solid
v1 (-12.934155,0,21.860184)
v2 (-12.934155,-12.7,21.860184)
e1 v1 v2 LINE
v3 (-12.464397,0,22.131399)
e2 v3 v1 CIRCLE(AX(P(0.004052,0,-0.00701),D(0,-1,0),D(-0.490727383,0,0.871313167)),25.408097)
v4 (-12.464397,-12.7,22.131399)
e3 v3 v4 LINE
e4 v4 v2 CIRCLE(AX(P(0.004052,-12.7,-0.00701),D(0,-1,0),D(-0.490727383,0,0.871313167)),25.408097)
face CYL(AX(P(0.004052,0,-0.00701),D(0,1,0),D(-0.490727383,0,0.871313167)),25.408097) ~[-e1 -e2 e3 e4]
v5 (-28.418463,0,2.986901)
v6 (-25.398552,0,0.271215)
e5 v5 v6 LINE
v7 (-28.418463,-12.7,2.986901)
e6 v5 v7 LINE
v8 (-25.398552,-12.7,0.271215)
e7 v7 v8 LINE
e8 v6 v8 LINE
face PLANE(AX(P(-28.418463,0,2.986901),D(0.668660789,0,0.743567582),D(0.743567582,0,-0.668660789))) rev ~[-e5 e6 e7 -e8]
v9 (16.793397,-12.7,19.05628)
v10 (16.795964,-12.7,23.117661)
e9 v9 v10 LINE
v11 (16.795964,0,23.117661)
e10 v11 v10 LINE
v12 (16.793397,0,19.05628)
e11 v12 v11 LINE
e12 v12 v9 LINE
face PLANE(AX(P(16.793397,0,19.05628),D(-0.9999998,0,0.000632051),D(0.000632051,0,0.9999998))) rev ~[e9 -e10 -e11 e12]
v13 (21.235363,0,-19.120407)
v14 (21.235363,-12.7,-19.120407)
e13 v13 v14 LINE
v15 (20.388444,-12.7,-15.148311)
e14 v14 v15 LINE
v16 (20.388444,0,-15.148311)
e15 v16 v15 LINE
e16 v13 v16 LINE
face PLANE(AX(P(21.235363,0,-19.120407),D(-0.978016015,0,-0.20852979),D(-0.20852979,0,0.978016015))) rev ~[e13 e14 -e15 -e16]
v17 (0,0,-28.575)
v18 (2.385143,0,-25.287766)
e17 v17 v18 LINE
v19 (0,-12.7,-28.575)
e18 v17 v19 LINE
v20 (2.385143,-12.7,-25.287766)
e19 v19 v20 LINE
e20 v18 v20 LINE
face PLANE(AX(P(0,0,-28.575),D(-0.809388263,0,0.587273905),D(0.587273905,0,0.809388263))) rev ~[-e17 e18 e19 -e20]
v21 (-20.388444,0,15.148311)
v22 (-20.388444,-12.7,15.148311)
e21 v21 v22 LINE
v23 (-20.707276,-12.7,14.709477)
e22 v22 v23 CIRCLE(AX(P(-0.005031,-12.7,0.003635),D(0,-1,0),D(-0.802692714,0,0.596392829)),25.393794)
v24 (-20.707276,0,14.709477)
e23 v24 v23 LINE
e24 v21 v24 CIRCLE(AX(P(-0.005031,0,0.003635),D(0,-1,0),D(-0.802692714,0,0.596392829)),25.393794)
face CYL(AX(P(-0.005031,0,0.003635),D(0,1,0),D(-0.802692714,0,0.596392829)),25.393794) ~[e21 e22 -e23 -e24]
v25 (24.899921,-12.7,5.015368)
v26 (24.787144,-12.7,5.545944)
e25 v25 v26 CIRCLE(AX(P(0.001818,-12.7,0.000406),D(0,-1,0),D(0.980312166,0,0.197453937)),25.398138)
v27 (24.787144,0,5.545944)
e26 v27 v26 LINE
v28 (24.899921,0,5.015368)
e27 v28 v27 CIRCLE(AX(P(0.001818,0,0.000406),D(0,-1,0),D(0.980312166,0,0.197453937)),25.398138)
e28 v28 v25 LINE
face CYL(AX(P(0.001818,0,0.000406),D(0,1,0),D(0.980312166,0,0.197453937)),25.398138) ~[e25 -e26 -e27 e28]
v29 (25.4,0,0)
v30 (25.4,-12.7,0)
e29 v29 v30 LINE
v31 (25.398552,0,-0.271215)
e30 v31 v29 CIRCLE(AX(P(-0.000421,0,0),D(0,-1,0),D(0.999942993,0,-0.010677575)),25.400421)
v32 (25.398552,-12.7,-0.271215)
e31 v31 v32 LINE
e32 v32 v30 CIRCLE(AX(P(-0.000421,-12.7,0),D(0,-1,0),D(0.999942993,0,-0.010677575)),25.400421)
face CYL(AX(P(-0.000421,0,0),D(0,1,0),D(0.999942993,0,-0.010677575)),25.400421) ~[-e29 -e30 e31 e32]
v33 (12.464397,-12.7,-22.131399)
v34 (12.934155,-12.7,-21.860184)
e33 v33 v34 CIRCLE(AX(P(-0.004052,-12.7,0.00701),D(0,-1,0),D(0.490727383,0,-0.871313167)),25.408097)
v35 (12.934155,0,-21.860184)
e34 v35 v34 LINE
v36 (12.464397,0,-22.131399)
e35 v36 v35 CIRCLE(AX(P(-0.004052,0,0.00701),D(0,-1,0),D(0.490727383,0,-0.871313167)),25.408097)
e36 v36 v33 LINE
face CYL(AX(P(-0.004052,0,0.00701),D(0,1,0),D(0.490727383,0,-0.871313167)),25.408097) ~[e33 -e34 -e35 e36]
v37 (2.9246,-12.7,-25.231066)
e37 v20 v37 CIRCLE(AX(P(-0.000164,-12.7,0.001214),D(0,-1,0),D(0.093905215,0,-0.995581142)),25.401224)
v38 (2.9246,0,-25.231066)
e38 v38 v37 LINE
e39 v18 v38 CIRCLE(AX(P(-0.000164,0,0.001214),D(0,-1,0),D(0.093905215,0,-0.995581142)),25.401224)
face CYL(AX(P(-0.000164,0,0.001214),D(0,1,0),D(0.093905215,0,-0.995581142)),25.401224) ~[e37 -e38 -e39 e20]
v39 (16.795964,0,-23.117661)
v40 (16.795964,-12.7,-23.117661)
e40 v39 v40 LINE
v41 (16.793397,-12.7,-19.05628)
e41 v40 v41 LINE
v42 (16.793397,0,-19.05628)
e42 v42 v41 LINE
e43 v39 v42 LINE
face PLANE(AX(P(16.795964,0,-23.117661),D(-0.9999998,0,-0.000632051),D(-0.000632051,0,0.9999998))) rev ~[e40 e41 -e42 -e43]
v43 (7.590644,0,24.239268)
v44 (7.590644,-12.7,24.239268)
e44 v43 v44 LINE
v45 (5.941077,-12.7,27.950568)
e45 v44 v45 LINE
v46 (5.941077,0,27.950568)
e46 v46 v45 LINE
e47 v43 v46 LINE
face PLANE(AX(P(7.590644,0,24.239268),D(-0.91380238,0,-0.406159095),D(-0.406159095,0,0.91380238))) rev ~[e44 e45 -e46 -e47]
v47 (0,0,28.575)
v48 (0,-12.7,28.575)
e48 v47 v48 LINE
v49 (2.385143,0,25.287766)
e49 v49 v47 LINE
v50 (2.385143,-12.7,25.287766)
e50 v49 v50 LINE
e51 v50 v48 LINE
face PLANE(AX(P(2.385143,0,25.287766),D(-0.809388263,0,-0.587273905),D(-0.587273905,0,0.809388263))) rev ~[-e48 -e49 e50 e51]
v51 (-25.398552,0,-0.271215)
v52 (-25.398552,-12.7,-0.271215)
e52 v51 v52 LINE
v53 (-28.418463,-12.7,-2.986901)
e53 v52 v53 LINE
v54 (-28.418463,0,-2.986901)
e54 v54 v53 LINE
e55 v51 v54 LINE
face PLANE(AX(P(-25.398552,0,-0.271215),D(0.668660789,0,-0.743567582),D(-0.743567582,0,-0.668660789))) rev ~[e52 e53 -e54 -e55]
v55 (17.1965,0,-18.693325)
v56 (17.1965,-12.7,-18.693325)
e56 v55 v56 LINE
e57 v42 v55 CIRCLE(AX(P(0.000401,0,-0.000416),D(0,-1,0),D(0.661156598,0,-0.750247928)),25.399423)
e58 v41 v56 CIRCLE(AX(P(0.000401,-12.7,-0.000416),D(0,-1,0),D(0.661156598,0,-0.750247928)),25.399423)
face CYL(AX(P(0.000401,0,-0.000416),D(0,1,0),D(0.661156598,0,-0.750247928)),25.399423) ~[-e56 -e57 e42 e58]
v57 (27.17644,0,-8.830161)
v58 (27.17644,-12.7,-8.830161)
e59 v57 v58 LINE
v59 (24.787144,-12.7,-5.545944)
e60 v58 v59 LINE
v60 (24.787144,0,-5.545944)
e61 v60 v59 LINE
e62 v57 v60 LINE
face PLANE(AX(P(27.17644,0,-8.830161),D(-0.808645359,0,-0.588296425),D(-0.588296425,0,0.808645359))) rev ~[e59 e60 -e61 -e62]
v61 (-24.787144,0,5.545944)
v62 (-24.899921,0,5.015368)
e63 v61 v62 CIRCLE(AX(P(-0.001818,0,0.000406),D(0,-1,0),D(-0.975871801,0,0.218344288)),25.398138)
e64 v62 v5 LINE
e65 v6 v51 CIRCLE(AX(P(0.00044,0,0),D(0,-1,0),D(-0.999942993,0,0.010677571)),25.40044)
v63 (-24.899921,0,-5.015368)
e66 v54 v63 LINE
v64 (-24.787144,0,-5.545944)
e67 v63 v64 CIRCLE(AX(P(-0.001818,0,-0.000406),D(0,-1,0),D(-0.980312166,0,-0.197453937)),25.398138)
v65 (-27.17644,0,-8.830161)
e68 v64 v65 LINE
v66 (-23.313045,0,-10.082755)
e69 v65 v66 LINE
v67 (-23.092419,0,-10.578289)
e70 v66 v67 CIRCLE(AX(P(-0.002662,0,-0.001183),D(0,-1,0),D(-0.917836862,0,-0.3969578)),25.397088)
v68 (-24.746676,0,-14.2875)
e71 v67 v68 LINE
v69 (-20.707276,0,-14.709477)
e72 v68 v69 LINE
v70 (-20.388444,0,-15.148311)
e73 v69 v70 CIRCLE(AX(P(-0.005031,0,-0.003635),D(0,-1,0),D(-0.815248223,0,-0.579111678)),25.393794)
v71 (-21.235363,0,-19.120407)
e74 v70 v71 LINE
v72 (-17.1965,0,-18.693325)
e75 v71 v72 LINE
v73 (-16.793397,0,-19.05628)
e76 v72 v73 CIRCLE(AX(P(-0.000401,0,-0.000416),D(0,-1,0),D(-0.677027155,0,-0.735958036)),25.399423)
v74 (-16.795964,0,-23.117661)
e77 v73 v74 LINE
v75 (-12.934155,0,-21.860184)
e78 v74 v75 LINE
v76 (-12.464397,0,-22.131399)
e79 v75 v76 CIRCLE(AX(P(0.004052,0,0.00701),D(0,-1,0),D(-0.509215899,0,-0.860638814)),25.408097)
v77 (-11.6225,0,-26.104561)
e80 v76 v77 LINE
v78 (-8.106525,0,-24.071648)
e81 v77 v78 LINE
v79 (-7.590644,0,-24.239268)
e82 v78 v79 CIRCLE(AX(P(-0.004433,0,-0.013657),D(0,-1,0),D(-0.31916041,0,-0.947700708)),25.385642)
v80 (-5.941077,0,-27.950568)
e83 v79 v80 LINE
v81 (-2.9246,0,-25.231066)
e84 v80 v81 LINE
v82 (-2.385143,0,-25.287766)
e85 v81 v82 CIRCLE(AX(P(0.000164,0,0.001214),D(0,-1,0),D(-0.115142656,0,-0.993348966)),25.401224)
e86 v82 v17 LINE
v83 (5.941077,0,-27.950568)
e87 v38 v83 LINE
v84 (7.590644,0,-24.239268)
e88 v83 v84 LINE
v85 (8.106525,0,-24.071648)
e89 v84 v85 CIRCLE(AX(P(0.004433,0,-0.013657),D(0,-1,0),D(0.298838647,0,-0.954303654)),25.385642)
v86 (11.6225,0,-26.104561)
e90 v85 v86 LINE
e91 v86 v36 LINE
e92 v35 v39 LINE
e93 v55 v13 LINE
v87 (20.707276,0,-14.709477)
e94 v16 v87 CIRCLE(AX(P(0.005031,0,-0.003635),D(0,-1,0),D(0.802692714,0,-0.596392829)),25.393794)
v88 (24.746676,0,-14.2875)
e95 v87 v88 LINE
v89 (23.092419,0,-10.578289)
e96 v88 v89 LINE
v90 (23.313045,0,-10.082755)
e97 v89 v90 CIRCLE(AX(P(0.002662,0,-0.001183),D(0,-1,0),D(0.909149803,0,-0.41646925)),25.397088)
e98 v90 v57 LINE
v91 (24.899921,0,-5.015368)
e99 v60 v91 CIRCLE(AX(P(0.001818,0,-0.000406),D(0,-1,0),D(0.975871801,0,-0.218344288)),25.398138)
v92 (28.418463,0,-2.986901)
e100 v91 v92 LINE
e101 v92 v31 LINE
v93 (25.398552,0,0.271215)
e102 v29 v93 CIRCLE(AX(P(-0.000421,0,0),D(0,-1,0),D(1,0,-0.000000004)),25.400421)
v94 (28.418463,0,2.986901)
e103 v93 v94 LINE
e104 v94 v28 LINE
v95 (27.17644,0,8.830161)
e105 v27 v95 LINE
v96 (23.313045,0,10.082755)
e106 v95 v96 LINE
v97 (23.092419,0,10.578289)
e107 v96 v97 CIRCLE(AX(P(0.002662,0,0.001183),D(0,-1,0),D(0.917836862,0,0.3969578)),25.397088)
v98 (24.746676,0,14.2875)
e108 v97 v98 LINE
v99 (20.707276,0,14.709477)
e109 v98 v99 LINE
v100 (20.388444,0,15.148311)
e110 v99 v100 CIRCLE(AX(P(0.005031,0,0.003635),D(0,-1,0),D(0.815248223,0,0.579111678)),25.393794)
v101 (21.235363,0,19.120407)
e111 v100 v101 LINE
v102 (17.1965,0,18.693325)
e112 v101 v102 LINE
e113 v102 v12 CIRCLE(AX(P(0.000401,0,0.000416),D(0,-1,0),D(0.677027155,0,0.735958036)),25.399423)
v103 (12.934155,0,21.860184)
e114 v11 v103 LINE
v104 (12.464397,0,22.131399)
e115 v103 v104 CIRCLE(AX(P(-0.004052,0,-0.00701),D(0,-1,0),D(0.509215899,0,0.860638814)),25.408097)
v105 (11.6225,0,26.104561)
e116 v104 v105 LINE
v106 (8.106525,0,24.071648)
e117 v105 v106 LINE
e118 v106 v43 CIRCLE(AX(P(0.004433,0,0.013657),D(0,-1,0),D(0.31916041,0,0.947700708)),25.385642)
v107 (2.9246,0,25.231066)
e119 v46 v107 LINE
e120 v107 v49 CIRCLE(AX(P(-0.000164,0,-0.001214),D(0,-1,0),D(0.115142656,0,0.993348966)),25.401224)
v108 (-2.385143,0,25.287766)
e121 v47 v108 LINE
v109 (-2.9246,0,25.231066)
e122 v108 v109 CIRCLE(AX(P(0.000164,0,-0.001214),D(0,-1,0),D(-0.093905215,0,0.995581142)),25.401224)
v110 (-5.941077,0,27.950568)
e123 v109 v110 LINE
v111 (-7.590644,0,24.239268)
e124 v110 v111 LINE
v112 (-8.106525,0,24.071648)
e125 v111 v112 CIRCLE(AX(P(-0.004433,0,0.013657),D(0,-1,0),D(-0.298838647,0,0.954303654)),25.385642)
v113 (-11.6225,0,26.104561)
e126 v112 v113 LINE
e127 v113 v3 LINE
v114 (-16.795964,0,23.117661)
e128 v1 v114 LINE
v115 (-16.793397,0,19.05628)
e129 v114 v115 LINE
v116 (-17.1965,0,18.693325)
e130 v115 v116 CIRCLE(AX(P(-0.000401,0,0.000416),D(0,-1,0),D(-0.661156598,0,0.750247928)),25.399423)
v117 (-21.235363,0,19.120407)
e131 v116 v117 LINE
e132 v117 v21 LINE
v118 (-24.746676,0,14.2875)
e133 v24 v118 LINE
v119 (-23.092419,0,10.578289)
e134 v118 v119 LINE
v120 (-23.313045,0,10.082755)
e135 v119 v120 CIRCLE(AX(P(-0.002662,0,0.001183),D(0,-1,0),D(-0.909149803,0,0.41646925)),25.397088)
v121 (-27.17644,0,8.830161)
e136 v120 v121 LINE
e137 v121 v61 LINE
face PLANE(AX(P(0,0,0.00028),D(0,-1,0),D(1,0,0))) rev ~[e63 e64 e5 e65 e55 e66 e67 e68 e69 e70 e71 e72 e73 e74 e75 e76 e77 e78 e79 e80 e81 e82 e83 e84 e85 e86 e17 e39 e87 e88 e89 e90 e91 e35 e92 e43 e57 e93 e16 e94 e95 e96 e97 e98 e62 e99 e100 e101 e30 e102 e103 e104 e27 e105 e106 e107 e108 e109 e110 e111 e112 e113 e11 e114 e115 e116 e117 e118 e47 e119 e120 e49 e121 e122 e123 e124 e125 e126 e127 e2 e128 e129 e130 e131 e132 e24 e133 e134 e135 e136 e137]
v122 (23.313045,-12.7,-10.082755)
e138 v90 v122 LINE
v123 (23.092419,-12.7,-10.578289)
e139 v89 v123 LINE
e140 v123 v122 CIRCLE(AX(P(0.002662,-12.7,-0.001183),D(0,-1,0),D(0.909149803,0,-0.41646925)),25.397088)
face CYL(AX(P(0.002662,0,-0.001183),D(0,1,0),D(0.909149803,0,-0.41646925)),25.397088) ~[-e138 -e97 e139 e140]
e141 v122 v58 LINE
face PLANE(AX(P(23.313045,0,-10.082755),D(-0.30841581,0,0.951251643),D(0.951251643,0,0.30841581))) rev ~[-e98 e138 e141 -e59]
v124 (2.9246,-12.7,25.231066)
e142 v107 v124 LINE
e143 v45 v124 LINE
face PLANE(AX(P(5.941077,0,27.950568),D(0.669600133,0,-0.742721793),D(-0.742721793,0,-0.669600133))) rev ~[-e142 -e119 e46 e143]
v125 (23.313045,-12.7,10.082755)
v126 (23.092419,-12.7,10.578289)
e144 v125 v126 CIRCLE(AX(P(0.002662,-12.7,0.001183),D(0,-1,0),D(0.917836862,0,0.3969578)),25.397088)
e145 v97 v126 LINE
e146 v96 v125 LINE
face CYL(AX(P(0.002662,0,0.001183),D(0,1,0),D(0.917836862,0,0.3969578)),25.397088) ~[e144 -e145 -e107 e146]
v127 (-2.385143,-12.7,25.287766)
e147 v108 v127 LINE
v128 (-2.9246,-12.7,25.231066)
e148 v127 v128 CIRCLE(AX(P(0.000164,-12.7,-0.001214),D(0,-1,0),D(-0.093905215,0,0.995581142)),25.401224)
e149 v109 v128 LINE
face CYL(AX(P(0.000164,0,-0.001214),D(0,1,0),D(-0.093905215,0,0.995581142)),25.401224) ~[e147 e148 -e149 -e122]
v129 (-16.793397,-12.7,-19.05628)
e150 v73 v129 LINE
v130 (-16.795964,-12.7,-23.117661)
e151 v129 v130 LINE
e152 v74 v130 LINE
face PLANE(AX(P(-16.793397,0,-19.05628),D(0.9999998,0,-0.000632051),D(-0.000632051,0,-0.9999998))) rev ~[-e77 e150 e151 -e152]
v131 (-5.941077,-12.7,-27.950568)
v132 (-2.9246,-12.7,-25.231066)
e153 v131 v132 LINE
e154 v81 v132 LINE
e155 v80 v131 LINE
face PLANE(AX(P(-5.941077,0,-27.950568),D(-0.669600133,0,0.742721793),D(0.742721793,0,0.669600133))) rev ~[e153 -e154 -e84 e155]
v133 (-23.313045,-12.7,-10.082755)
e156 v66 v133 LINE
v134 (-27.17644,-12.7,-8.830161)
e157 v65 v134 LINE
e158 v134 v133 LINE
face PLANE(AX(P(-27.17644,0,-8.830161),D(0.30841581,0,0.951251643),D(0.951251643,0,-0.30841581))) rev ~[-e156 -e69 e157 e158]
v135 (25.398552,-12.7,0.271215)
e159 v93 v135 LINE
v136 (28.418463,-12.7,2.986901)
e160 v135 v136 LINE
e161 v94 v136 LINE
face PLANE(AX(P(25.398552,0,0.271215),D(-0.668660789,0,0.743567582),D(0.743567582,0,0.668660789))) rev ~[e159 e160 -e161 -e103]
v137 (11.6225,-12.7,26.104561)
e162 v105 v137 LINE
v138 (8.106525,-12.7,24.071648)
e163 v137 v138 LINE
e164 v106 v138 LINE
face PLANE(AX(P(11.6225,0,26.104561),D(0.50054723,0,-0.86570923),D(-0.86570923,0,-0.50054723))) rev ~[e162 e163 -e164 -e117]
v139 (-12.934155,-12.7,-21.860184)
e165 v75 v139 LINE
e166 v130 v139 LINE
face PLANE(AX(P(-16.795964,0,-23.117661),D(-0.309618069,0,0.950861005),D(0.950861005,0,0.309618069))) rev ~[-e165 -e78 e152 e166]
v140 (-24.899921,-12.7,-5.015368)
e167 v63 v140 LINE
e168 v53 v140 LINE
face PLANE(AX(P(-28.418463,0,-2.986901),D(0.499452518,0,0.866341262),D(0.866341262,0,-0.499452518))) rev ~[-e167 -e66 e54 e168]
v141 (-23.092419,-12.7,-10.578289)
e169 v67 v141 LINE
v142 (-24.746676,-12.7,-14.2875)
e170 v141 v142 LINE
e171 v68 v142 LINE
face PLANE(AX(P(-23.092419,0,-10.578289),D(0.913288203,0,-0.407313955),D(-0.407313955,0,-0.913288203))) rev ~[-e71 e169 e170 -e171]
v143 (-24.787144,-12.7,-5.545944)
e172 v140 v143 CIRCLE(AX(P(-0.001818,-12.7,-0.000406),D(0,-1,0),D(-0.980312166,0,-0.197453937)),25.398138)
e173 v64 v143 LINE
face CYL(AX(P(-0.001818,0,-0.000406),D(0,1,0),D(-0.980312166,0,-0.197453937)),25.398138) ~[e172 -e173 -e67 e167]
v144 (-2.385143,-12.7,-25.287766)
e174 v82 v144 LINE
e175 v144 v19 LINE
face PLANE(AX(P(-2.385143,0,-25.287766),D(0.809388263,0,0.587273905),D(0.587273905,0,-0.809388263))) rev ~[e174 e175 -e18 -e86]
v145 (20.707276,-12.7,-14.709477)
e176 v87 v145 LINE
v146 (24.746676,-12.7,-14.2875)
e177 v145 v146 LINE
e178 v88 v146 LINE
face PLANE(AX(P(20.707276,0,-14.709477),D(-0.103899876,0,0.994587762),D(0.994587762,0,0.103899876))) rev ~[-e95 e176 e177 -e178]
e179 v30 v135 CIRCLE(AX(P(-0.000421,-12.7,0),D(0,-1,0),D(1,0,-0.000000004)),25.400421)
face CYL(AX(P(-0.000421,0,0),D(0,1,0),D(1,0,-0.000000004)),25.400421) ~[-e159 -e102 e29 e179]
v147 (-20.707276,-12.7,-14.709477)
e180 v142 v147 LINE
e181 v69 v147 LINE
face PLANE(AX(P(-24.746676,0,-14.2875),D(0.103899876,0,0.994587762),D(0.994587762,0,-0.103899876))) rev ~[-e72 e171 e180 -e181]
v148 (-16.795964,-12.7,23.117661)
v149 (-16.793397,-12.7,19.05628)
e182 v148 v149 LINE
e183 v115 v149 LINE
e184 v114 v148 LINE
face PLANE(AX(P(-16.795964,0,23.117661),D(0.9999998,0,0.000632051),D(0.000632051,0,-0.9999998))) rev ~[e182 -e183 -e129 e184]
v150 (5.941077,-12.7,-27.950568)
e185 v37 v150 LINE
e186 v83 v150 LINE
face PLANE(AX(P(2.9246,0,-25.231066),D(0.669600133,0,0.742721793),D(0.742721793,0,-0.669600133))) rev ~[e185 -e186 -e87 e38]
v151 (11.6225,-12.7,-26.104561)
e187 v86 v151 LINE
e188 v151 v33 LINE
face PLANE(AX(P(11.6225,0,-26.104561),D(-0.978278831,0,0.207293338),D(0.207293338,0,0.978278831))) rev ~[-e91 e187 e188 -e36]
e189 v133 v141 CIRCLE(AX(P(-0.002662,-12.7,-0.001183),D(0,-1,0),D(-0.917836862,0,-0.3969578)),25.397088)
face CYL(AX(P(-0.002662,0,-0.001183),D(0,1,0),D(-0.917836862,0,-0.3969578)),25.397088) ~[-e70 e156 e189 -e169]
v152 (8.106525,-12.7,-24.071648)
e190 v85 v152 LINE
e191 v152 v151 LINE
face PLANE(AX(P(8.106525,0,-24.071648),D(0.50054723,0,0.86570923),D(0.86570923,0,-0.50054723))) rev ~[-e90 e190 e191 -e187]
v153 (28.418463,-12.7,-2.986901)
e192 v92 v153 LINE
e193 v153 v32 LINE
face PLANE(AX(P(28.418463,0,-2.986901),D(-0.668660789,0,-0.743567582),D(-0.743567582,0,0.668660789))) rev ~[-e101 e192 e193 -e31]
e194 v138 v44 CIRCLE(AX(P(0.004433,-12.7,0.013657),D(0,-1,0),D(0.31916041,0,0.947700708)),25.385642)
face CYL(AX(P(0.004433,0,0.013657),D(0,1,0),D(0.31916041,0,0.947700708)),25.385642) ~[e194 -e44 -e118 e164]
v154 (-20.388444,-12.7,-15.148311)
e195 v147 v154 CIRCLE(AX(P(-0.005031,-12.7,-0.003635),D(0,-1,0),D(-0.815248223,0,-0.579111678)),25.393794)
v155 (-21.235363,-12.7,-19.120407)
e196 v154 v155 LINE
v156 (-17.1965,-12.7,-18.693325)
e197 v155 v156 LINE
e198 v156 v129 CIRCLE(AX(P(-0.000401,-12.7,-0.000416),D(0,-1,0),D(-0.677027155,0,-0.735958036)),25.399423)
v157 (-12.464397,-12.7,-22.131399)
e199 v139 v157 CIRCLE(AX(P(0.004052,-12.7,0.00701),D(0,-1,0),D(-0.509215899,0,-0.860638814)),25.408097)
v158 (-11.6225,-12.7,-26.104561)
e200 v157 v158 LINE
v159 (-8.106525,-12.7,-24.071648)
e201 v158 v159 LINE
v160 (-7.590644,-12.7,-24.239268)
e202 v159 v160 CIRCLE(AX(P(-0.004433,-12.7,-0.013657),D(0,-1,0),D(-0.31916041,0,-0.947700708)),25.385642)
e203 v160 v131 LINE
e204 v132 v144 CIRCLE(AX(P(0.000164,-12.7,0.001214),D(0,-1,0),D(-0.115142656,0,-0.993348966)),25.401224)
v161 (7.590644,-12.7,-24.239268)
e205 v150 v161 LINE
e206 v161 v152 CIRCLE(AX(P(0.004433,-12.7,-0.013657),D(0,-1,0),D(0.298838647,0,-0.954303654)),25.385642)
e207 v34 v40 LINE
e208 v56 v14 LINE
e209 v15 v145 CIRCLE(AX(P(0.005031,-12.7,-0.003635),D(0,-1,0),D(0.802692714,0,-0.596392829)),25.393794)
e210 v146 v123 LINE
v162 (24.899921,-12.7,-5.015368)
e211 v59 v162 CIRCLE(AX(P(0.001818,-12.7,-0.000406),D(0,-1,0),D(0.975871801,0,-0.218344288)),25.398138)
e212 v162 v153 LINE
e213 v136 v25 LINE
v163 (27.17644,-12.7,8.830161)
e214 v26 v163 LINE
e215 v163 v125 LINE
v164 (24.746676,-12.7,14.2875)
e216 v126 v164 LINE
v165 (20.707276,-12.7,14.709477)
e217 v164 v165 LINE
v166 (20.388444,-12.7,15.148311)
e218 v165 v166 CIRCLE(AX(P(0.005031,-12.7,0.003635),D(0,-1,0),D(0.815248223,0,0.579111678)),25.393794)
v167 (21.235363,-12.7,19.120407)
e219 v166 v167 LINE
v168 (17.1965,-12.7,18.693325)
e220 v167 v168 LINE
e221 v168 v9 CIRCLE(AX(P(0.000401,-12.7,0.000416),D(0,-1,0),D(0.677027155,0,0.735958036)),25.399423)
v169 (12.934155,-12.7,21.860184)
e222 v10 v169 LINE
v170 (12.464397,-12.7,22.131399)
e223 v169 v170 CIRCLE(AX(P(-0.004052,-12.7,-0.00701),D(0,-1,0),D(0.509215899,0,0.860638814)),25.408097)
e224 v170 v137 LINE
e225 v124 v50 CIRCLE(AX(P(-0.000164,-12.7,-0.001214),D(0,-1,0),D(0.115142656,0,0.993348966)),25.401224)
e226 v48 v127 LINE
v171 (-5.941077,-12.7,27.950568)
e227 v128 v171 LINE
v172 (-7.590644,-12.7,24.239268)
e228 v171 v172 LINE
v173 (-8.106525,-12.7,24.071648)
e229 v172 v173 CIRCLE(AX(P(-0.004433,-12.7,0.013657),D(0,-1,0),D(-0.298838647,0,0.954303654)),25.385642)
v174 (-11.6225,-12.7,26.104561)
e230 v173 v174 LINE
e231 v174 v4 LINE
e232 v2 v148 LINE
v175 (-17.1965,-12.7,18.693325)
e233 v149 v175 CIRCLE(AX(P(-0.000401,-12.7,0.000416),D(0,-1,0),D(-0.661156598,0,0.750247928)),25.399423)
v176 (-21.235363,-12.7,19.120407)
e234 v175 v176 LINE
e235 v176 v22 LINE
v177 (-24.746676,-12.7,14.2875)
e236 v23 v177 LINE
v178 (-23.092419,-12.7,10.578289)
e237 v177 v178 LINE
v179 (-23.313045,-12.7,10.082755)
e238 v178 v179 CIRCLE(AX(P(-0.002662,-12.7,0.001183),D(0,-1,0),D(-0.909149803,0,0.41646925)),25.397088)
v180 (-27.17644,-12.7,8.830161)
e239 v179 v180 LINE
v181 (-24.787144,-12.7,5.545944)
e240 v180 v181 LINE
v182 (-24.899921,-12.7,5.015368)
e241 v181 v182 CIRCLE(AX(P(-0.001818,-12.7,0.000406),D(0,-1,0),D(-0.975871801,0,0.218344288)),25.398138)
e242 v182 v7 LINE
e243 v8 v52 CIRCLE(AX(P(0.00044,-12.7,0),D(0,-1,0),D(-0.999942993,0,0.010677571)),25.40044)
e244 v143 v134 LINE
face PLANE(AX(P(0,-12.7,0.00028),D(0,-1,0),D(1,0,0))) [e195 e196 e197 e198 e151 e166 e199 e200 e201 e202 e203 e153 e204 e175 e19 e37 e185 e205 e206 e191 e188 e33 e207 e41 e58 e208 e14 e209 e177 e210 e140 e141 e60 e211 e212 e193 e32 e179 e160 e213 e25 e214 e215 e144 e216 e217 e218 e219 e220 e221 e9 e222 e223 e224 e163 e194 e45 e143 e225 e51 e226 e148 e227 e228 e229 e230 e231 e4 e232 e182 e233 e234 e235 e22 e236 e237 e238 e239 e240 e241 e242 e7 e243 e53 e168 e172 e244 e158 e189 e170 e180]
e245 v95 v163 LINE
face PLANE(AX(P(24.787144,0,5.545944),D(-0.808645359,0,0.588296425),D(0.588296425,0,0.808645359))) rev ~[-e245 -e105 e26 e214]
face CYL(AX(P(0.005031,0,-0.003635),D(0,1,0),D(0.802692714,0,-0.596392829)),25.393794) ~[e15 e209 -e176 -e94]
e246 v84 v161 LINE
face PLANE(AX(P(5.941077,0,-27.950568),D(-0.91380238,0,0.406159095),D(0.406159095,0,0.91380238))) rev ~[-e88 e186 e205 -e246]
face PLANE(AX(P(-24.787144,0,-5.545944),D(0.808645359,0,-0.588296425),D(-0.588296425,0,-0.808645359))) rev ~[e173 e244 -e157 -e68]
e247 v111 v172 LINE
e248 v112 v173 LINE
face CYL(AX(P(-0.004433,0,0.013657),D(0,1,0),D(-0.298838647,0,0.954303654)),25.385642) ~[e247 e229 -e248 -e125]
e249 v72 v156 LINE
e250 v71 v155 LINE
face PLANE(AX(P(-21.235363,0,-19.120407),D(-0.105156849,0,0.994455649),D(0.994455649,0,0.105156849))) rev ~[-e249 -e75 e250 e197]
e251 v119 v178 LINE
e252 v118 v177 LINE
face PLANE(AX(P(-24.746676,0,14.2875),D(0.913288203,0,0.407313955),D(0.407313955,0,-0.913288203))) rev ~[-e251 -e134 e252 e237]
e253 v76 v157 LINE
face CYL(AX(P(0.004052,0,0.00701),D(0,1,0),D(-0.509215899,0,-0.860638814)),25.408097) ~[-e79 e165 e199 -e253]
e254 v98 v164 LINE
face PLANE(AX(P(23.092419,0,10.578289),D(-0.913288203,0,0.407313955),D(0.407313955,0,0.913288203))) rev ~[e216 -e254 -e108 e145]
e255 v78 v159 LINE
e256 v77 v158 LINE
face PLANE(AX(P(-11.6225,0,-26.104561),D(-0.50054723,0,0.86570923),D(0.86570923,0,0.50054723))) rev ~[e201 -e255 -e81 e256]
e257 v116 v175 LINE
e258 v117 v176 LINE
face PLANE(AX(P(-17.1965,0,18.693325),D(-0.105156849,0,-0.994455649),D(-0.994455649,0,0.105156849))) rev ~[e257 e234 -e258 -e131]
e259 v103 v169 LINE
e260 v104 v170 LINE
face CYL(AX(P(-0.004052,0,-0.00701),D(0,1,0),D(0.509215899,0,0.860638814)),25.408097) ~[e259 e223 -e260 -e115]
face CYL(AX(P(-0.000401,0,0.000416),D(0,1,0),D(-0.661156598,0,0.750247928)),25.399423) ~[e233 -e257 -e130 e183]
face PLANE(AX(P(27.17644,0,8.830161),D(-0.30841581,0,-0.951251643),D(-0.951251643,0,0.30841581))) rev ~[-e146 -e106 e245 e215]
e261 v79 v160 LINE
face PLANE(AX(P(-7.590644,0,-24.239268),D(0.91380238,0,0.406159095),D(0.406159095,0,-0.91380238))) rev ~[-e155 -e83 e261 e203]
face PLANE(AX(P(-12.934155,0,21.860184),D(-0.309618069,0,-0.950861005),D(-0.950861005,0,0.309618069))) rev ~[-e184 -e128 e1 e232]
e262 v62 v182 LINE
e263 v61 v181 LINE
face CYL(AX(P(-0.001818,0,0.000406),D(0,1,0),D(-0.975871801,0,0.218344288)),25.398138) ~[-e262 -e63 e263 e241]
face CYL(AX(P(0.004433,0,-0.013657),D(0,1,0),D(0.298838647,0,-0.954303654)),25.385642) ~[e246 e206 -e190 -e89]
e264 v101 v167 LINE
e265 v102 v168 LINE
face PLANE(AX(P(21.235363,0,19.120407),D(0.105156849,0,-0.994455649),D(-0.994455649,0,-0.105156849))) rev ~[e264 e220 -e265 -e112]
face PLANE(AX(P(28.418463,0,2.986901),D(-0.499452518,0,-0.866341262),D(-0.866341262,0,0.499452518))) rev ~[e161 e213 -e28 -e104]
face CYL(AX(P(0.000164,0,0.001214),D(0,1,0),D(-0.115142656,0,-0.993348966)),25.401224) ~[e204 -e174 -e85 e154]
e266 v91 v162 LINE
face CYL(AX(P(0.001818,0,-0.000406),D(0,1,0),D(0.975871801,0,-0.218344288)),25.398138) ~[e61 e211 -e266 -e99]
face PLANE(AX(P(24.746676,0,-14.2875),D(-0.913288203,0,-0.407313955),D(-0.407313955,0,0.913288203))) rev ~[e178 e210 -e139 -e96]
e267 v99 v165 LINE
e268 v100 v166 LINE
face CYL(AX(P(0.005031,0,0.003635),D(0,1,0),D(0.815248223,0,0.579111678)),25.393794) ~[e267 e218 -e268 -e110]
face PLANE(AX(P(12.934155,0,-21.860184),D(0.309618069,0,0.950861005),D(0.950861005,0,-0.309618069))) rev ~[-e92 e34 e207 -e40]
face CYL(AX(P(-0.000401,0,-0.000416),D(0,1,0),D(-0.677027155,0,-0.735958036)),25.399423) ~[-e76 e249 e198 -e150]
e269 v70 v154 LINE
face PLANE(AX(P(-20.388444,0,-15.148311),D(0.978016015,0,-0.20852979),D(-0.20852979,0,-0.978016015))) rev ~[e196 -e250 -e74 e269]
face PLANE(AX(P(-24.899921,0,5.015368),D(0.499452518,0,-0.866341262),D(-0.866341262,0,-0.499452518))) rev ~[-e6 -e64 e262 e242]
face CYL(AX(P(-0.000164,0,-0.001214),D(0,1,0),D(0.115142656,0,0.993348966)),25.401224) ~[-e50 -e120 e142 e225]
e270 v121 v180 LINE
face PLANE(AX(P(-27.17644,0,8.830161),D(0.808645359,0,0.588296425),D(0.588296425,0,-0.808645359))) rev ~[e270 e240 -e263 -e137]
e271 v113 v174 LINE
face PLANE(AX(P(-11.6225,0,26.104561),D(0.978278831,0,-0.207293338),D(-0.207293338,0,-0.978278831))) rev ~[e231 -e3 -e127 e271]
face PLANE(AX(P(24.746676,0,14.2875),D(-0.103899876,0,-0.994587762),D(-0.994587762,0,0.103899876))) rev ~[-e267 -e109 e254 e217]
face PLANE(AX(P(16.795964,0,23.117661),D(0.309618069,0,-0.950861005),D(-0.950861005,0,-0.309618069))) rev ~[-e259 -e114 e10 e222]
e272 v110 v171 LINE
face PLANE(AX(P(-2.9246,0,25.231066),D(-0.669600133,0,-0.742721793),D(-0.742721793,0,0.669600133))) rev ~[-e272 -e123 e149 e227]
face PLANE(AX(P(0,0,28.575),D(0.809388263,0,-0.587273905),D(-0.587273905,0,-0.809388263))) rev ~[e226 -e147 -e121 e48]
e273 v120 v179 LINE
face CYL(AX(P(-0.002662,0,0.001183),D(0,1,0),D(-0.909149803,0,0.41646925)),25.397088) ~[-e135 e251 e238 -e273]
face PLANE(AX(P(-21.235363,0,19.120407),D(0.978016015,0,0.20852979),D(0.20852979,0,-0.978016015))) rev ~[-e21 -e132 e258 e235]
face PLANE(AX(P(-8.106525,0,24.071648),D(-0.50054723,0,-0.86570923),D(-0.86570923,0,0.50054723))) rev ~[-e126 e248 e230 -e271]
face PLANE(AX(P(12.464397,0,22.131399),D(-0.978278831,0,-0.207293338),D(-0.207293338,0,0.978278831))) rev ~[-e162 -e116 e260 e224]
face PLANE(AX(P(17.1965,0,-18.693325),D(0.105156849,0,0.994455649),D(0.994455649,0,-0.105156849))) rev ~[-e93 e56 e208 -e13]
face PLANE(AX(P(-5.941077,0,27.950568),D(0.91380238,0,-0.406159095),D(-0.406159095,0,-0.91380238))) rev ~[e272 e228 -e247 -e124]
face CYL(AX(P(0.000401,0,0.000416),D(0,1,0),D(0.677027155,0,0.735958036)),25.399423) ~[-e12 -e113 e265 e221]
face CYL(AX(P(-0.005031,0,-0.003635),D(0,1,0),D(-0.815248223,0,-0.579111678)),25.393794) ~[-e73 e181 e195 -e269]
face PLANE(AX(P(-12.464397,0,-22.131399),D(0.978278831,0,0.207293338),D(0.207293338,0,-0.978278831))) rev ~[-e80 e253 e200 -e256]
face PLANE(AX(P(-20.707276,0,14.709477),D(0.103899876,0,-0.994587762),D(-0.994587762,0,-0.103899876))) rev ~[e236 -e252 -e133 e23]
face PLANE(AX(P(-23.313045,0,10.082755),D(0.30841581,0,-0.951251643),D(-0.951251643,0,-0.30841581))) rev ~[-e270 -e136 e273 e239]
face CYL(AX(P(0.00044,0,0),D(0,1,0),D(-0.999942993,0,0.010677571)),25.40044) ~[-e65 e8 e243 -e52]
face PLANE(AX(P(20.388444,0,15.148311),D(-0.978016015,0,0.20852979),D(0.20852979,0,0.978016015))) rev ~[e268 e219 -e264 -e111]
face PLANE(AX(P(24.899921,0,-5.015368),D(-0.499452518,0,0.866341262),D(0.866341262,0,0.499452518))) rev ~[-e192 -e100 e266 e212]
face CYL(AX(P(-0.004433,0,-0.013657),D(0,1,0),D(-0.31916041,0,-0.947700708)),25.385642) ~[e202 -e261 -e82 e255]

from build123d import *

# Parameters (mm, degrees)
F1_DEPTH = 12.7


with BuildPart() as f1:
    # F0 (on Front) → F1 (new body)
    with BuildSketch(Plane.XZ):
        with BuildLine():
            ThreePointArc((25.398552, -0.271215), (25.399638, -0.135609), (25.4, 0))
            ThreePointArc((25.4, 0), (25.399638, 0.135609), (25.398552, 0.271215))
            ThreePointArc((25.398552, 0.271215), (25.260856, 2.655023), (24.899921, 5.015368))
            ThreePointArc((24.899921, 5.015368), (24.844949, 5.280957), (24.787144, 5.545944))
            ThreePointArc((24.787144, 5.545944), (24.156836, 7.849032), (23.313045, 10.082755))
            ThreePointArc((23.313045, 10.082755), (23.204055, 10.331111), (23.092419, 10.578289))
            ThreePointArc((23.092419, 10.578289), (21.997045, 12.7), (20.707276, 14.709477))
            ThreePointArc((20.707276, 14.709477), (20.549032, 14.929745), (20.388444, 15.148311))
            ThreePointArc((20.388444, 15.148311), (18.875879, 16.995917), (17.1965, 18.693325))
            ThreePointArc((17.1965, 18.693325), (16.995917, 18.875879), (16.793397, 19.05628))
            ThreePointArc((16.793397, 19.05628), (14.929745, 20.549032), (12.934155, 21.860184))
            ThreePointArc((12.934155, 21.860184), (12.7, 21.997045), (12.464397, 22.131399))
            ThreePointArc((12.464397, 22.131399), (10.331111, 23.204055), (8.106525, 24.071648))
            ThreePointArc((8.106525, 24.071648), (7.849032, 24.156836), (7.590644, 24.239268))
            ThreePointArc((7.590644, 24.239268), (5.280957, 24.844949), (2.9246, 25.231066))
            ThreePointArc((2.9246, 25.231066), (2.655023, 25.260856), (2.385143, 25.287766))
            ThreePointArc((2.385143, 25.287766), (1.193891, 25.371926), (0, 25.4))
            ThreePointArc((0, 25.4), (-1.193891, 25.371926), (-2.385143, 25.287766))
            ThreePointArc((-2.385143, 25.287766), (-2.655023, 25.260856), (-2.9246, 25.231066))
            ThreePointArc((-2.9246, 25.231066), (-5.280957, 24.844949), (-7.590644, 24.239268))
            ThreePointArc((-7.590644, 24.239268), (-7.849032, 24.156836), (-8.106525, 24.071648))
            ThreePointArc((-8.106525, 24.071648), (-10.331111, 23.204055), (-12.464397, 22.131399))
            ThreePointArc((-12.464397, 22.131399), (-12.7, 21.997045), (-12.934155, 21.860184))
            ThreePointArc((-12.934155, 21.860184), (-14.929745, 20.549032), (-16.793397, 19.05628))
            ThreePointArc((-16.793397, 19.05628), (-16.995917, 18.875879), (-17.1965, 18.693325))
            ThreePointArc((-17.1965, 18.693325), (-18.875879, 16.995917), (-20.388444, 15.148311))
            ThreePointArc((-20.388444, 15.148311), (-20.549032, 14.929745), (-20.707276, 14.709477))
            ThreePointArc((-20.707276, 14.709477), (-21.997045, 12.7), (-23.092419, 10.578289))
            ThreePointArc((-23.092419, 10.578289), (-23.204055, 10.331111), (-23.313045, 10.082755))
            ThreePointArc((-23.313045, 10.082755), (-24.156836, 7.849032), (-24.787144, 5.545944))
            ThreePointArc((-24.787144, 5.545944), (-24.844949, 5.280957), (-24.899921, 5.015368))
            ThreePointArc((-24.899921, 5.015368), (-25.260856, 2.655023), (-25.398552, 0.271215))
            ThreePointArc((-25.398552, 0.271215), (-25.4, 0), (-25.398552, -0.271215))
            ThreePointArc((-25.398552, -0.271215), (-25.260856, -2.655023), (-24.899921, -5.015368))
            ThreePointArc((-24.899921, -5.015368), (-24.844949, -5.280957), (-24.787144, -5.545944))
            ThreePointArc((-24.787144, -5.545944), (-24.156836, -7.849032), (-23.313045, -10.082755))
            ThreePointArc((-23.313045, -10.082755), (-23.204055, -10.331111), (-23.092419, -10.578289))
            ThreePointArc((-23.092419, -10.578289), (-21.997045, -12.7), (-20.707276, -14.709477))
            ThreePointArc((-20.707276, -14.709477), (-20.549032, -14.929745), (-20.388444, -15.148311))
            ThreePointArc((-20.388444, -15.148311), (-18.875879, -16.995917), (-17.1965, -18.693325))
            ThreePointArc((-17.1965, -18.693325), (-16.995917, -18.875879), (-16.793397, -19.05628))
            ThreePointArc((-16.793397, -19.05628), (-14.929745, -20.549032), (-12.934155, -21.860184))
            ThreePointArc((-12.934155, -21.860184), (-12.7, -21.997045), (-12.464397, -22.131399))
            ThreePointArc((-12.464397, -22.131399), (-10.331111, -23.204055), (-8.106525, -24.071648))
            ThreePointArc((-8.106525, -24.071648), (-7.849032, -24.156836), (-7.590644, -24.239268))
            ThreePointArc((-7.590644, -24.239268), (-5.280957, -24.844949), (-2.9246, -25.231066))
            ThreePointArc((-2.9246, -25.231066), (-2.655023, -25.260856), (-2.385143, -25.287766))
            ThreePointArc((-2.385143, -25.287766), (0, -25.4), (2.385143, -25.287766))
            ThreePointArc((2.385143, -25.287766), (2.655023, -25.260856), (2.9246, -25.231066))
            ThreePointArc((2.9246, -25.231066), (5.280957, -24.844949), (7.590644, -24.239268))
            ThreePointArc((7.590644, -24.239268), (7.849032, -24.156836), (8.106525, -24.071648))
            ThreePointArc((8.106525, -24.071648), (10.331111, -23.204055), (12.464397, -22.131399))
            ThreePointArc((12.464397, -22.131399), (12.7, -21.997045), (12.934155, -21.860184))
            ThreePointArc((12.934155, -21.860184), (14.929745, -20.549032), (16.793397, -19.05628))
            ThreePointArc((16.793397, -19.05628), (16.995917, -18.875879), (17.1965, -18.693325))
            ThreePointArc((17.1965, -18.693325), (18.875879, -16.995917), (20.388444, -15.148311))
            ThreePointArc((20.388444, -15.148311), (20.549032, -14.929745), (20.707276, -14.709477))
            ThreePointArc((20.707276, -14.709477), (21.997045, -12.7), (23.092419, -10.578289))
            ThreePointArc((23.092419, -10.578289), (23.204055, -10.331111), (23.313045, -10.082755))
            ThreePointArc((23.313045, -10.082755), (24.156836, -7.849032), (24.787144, -5.545944))
            ThreePointArc((24.787144, -5.545944), (24.844949, -5.280957), (24.899921, -5.015368))
            ThreePointArc((24.899921, -5.015368), (25.260856, -2.655023), (25.398552, -0.271215))
        make_face()
        with BuildLine():
            ThreePointArc((24.899921, 5.015368), (25.260856, 2.655023), (25.398552, 0.271215))
            Line((25.398552, 0.271215), (28.418463, 2.986901))
            Line((28.418463, 2.986901), (24.899921, 5.015368))
        make_face()
        with BuildLine():
            Line((28.418463, -2.986901), (25.398552, -0.271215))
            ThreePointArc((25.398552, -0.271215), (25.260856, -2.655023), (24.899921, -5.015368))
            Line((24.899921, -5.015368), (28.418463, -2.986901))
        make_face()
        with BuildLine():
            ThreePointArc((23.313045, 10.082755), (24.156836, 7.849032), (24.787144, 5.545944))
            Line((24.787144, 5.545944), (27.17644, 8.830161))
            Line((27.17644, 8.830161), (23.313045, 10.082755))
        make_face()
        with BuildLine():
            Line((27.17644, -8.830161), (24.787144, -5.545944))
            ThreePointArc((24.787144, -5.545944), (24.156836, -7.849032), (23.313045, -10.082755))
            Line((23.313045, -10.082755), (27.17644, -8.830161))
        make_face()
        with BuildLine():
            ThreePointArc((20.707276, 14.709477), (21.997045, 12.7), (23.092419, 10.578289))
            Line((23.092419, 10.578289), (24.746676, 14.2875))
            Line((24.746676, 14.2875), (20.707276, 14.709477))
        make_face()
        with BuildLine():
            Line((24.746676, -14.2875), (23.092419, -10.578289))
            ThreePointArc((23.092419, -10.578289), (21.997045, -12.7), (20.707276, -14.709477))
            Line((20.707276, -14.709477), (24.746676, -14.2875))
        make_face()
        with BuildLine():
            ThreePointArc((17.1965, 18.693325), (18.875879, 16.995917), (20.388444, 15.148311))
            Line((20.388444, 15.148311), (21.235363, 19.120407))
            Line((21.235363, 19.120407), (17.1965, 18.693325))
        make_face()
        with BuildLine():
            Line((21.235363, -19.120407), (20.388444, -15.148311))
            ThreePointArc((20.388444, -15.148311), (18.875879, -16.995917), (17.1965, -18.693325))
            Line((17.1965, -18.693325), (21.235363, -19.120407))
        make_face()
        with BuildLine():
            ThreePointArc((12.934155, 21.860184), (14.929745, 20.549032), (16.793397, 19.05628))
            Line((16.793397, 19.05628), (16.795964, 23.117661))
            Line((16.795964, 23.117661), (12.934155, 21.860184))
        make_face()
        with BuildLine():
            Line((16.795964, -23.117661), (16.793397, -19.05628))
            ThreePointArc((16.793397, -19.05628), (14.929745, -20.549032), (12.934155, -21.860184))
            Line((12.934155, -21.860184), (16.795964, -23.117661))
        make_face()
        with BuildLine():
            ThreePointArc((8.106525, 24.071648), (10.331111, 23.204055), (12.464397, 22.131399))
            Line((12.464397, 22.131399), (11.6225, 26.104561))
            Line((11.6225, 26.104561), (8.106525, 24.071648))
        make_face()
        with BuildLine():
            Line((11.6225, -26.104561), (12.464397, -22.131399))
            ThreePointArc((12.464397, -22.131399), (10.331111, -23.204055), (8.106525, -24.071648))
            Line((8.106525, -24.071648), (11.6225, -26.104561))
        make_face()
        with BuildLine():
            ThreePointArc((2.9246, 25.231066), (5.280957, 24.844949), (7.590644, 24.239268))
            Line((7.590644, 24.239268), (5.941077, 27.950568))
            Line((5.941077, 27.950568), (2.9246, 25.231066))
        make_face()
        with BuildLine():
            Line((5.941077, -27.950568), (7.590644, -24.239268))
            ThreePointArc((7.590644, -24.239268), (5.280957, -24.844949), (2.9246, -25.231066))
            Line((2.9246, -25.231066), (5.941077, -27.950568))
        make_face()
        with BuildLine():
            ThreePointArc((0, 25.4), (1.193891, 25.371926), (2.385143, 25.287766))
            Line((2.385143, 25.287766), (0, 28.575))
            Line((0, 28.575), (0, 25.4))
        make_face()
        with BuildLine():
            Line((0, -28.575), (2.385143, -25.287766))
            ThreePointArc((2.385143, -25.287766), (0, -25.4), (-2.385143, -25.287766))
            Line((-2.385143, -25.287766), (0, -28.575))
        make_face()
        with BuildLine():
            ThreePointArc((-2.385143, 25.287766), (-1.193891, 25.371926), (0, 25.4))
            Line((0, 25.4), (0, 28.575))
            Line((0, 28.575), (-2.385143, 25.287766))
        make_face()
        with BuildLine():
            Line((-5.941077, -27.950568), (-2.9246, -25.231066))
            ThreePointArc((-2.9246, -25.231066), (-5.280957, -24.844949), (-7.590644, -24.239268))
            Line((-7.590644, -24.239268), (-5.941077, -27.950568))
        make_face()
        with BuildLine():
            ThreePointArc((-7.590644, 24.239268), (-5.280957, 24.844949), (-2.9246, 25.231066))
            Line((-2.9246, 25.231066), (-5.941077, 27.950568))
            Line((-5.941077, 27.950568), (-7.590644, 24.239268))
        make_face()
        with BuildLine():
            Line((-11.6225, -26.104561), (-8.106525, -24.071648))
            ThreePointArc((-8.106525, -24.071648), (-10.331111, -23.204055), (-12.464397, -22.131399))
            Line((-12.464397, -22.131399), (-11.6225, -26.104561))
        make_face()
        with BuildLine():
            ThreePointArc((-12.464397, 22.131399), (-10.331111, 23.204055), (-8.106525, 24.071648))
            Line((-8.106525, 24.071648), (-11.6225, 26.104561))
            Line((-11.6225, 26.104561), (-12.464397, 22.131399))
        make_face()
        with BuildLine():
            Line((-16.795964, -23.117661), (-12.934155, -21.860184))
            ThreePointArc((-12.934155, -21.860184), (-14.929745, -20.549032), (-16.793397, -19.05628))
            Line((-16.793397, -19.05628), (-16.795964, -23.117661))
        make_face()
        with BuildLine():
            ThreePointArc((-16.793397, 19.05628), (-14.929745, 20.549032), (-12.934155, 21.860184))
            Line((-12.934155, 21.860184), (-16.795964, 23.117661))
            Line((-16.795964, 23.117661), (-16.793397, 19.05628))
        make_face()
        with BuildLine():
            Line((-21.235363, -19.120407), (-17.1965, -18.693325))
            ThreePointArc((-17.1965, -18.693325), (-18.875879, -16.995917), (-20.388444, -15.148311))
            Line((-20.388444, -15.148311), (-21.235363, -19.120407))
        make_face()
        with BuildLine():
            ThreePointArc((-20.388444, 15.148311), (-18.875879, 16.995917), (-17.1965, 18.693325))
            Line((-17.1965, 18.693325), (-21.235363, 19.120407))
            Line((-21.235363, 19.120407), (-20.388444, 15.148311))
        make_face()
        with BuildLine():
            Line((-24.746676, -14.2875), (-20.707276, -14.709477))
            ThreePointArc((-20.707276, -14.709477), (-21.997045, -12.7), (-23.092419, -10.578289))
            Line((-23.092419, -10.578289), (-24.746676, -14.2875))
        make_face()
        with BuildLine():
            ThreePointArc((-23.092419, 10.578289), (-21.997045, 12.7), (-20.707276, 14.709477))
            Line((-20.707276, 14.709477), (-24.746676, 14.2875))
            Line((-24.746676, 14.2875), (-23.092419, 10.578289))
        make_face()
        with BuildLine():
            Line((-27.17644, -8.830161), (-23.313045, -10.082755))
            ThreePointArc((-23.313045, -10.082755), (-24.156836, -7.849032), (-24.787144, -5.545944))
            Line((-24.787144, -5.545944), (-27.17644, -8.830161))
        make_face()
        with BuildLine():
            ThreePointArc((-24.787144, 5.545944), (-24.156836, 7.849032), (-23.313045, 10.082755))
            Line((-23.313045, 10.082755), (-27.17644, 8.830161))
            Line((-27.17644, 8.830161), (-24.787144, 5.545944))
        make_face()
        with BuildLine():
            Line((-28.418463, -2.986901), (-24.899921, -5.015368))
            ThreePointArc((-24.899921, -5.015368), (-25.260856, -2.655023), (-25.398552, -0.271215))
            Line((-25.398552, -0.271215), (-28.418463, -2.986901))
        make_face()
        with BuildLine():
            ThreePointArc((-25.398552, 0.271215), (-25.260856, 2.655023), (-24.899921, 5.015368))
            Line((-24.899921, 5.015368), (-28.418463, 2.986901))
            Line((-28.418463, 2.986901), (-25.398552, 0.271215))
        make_face()
    extrude(amount=F1_DEPTH)


solid = f1.part
